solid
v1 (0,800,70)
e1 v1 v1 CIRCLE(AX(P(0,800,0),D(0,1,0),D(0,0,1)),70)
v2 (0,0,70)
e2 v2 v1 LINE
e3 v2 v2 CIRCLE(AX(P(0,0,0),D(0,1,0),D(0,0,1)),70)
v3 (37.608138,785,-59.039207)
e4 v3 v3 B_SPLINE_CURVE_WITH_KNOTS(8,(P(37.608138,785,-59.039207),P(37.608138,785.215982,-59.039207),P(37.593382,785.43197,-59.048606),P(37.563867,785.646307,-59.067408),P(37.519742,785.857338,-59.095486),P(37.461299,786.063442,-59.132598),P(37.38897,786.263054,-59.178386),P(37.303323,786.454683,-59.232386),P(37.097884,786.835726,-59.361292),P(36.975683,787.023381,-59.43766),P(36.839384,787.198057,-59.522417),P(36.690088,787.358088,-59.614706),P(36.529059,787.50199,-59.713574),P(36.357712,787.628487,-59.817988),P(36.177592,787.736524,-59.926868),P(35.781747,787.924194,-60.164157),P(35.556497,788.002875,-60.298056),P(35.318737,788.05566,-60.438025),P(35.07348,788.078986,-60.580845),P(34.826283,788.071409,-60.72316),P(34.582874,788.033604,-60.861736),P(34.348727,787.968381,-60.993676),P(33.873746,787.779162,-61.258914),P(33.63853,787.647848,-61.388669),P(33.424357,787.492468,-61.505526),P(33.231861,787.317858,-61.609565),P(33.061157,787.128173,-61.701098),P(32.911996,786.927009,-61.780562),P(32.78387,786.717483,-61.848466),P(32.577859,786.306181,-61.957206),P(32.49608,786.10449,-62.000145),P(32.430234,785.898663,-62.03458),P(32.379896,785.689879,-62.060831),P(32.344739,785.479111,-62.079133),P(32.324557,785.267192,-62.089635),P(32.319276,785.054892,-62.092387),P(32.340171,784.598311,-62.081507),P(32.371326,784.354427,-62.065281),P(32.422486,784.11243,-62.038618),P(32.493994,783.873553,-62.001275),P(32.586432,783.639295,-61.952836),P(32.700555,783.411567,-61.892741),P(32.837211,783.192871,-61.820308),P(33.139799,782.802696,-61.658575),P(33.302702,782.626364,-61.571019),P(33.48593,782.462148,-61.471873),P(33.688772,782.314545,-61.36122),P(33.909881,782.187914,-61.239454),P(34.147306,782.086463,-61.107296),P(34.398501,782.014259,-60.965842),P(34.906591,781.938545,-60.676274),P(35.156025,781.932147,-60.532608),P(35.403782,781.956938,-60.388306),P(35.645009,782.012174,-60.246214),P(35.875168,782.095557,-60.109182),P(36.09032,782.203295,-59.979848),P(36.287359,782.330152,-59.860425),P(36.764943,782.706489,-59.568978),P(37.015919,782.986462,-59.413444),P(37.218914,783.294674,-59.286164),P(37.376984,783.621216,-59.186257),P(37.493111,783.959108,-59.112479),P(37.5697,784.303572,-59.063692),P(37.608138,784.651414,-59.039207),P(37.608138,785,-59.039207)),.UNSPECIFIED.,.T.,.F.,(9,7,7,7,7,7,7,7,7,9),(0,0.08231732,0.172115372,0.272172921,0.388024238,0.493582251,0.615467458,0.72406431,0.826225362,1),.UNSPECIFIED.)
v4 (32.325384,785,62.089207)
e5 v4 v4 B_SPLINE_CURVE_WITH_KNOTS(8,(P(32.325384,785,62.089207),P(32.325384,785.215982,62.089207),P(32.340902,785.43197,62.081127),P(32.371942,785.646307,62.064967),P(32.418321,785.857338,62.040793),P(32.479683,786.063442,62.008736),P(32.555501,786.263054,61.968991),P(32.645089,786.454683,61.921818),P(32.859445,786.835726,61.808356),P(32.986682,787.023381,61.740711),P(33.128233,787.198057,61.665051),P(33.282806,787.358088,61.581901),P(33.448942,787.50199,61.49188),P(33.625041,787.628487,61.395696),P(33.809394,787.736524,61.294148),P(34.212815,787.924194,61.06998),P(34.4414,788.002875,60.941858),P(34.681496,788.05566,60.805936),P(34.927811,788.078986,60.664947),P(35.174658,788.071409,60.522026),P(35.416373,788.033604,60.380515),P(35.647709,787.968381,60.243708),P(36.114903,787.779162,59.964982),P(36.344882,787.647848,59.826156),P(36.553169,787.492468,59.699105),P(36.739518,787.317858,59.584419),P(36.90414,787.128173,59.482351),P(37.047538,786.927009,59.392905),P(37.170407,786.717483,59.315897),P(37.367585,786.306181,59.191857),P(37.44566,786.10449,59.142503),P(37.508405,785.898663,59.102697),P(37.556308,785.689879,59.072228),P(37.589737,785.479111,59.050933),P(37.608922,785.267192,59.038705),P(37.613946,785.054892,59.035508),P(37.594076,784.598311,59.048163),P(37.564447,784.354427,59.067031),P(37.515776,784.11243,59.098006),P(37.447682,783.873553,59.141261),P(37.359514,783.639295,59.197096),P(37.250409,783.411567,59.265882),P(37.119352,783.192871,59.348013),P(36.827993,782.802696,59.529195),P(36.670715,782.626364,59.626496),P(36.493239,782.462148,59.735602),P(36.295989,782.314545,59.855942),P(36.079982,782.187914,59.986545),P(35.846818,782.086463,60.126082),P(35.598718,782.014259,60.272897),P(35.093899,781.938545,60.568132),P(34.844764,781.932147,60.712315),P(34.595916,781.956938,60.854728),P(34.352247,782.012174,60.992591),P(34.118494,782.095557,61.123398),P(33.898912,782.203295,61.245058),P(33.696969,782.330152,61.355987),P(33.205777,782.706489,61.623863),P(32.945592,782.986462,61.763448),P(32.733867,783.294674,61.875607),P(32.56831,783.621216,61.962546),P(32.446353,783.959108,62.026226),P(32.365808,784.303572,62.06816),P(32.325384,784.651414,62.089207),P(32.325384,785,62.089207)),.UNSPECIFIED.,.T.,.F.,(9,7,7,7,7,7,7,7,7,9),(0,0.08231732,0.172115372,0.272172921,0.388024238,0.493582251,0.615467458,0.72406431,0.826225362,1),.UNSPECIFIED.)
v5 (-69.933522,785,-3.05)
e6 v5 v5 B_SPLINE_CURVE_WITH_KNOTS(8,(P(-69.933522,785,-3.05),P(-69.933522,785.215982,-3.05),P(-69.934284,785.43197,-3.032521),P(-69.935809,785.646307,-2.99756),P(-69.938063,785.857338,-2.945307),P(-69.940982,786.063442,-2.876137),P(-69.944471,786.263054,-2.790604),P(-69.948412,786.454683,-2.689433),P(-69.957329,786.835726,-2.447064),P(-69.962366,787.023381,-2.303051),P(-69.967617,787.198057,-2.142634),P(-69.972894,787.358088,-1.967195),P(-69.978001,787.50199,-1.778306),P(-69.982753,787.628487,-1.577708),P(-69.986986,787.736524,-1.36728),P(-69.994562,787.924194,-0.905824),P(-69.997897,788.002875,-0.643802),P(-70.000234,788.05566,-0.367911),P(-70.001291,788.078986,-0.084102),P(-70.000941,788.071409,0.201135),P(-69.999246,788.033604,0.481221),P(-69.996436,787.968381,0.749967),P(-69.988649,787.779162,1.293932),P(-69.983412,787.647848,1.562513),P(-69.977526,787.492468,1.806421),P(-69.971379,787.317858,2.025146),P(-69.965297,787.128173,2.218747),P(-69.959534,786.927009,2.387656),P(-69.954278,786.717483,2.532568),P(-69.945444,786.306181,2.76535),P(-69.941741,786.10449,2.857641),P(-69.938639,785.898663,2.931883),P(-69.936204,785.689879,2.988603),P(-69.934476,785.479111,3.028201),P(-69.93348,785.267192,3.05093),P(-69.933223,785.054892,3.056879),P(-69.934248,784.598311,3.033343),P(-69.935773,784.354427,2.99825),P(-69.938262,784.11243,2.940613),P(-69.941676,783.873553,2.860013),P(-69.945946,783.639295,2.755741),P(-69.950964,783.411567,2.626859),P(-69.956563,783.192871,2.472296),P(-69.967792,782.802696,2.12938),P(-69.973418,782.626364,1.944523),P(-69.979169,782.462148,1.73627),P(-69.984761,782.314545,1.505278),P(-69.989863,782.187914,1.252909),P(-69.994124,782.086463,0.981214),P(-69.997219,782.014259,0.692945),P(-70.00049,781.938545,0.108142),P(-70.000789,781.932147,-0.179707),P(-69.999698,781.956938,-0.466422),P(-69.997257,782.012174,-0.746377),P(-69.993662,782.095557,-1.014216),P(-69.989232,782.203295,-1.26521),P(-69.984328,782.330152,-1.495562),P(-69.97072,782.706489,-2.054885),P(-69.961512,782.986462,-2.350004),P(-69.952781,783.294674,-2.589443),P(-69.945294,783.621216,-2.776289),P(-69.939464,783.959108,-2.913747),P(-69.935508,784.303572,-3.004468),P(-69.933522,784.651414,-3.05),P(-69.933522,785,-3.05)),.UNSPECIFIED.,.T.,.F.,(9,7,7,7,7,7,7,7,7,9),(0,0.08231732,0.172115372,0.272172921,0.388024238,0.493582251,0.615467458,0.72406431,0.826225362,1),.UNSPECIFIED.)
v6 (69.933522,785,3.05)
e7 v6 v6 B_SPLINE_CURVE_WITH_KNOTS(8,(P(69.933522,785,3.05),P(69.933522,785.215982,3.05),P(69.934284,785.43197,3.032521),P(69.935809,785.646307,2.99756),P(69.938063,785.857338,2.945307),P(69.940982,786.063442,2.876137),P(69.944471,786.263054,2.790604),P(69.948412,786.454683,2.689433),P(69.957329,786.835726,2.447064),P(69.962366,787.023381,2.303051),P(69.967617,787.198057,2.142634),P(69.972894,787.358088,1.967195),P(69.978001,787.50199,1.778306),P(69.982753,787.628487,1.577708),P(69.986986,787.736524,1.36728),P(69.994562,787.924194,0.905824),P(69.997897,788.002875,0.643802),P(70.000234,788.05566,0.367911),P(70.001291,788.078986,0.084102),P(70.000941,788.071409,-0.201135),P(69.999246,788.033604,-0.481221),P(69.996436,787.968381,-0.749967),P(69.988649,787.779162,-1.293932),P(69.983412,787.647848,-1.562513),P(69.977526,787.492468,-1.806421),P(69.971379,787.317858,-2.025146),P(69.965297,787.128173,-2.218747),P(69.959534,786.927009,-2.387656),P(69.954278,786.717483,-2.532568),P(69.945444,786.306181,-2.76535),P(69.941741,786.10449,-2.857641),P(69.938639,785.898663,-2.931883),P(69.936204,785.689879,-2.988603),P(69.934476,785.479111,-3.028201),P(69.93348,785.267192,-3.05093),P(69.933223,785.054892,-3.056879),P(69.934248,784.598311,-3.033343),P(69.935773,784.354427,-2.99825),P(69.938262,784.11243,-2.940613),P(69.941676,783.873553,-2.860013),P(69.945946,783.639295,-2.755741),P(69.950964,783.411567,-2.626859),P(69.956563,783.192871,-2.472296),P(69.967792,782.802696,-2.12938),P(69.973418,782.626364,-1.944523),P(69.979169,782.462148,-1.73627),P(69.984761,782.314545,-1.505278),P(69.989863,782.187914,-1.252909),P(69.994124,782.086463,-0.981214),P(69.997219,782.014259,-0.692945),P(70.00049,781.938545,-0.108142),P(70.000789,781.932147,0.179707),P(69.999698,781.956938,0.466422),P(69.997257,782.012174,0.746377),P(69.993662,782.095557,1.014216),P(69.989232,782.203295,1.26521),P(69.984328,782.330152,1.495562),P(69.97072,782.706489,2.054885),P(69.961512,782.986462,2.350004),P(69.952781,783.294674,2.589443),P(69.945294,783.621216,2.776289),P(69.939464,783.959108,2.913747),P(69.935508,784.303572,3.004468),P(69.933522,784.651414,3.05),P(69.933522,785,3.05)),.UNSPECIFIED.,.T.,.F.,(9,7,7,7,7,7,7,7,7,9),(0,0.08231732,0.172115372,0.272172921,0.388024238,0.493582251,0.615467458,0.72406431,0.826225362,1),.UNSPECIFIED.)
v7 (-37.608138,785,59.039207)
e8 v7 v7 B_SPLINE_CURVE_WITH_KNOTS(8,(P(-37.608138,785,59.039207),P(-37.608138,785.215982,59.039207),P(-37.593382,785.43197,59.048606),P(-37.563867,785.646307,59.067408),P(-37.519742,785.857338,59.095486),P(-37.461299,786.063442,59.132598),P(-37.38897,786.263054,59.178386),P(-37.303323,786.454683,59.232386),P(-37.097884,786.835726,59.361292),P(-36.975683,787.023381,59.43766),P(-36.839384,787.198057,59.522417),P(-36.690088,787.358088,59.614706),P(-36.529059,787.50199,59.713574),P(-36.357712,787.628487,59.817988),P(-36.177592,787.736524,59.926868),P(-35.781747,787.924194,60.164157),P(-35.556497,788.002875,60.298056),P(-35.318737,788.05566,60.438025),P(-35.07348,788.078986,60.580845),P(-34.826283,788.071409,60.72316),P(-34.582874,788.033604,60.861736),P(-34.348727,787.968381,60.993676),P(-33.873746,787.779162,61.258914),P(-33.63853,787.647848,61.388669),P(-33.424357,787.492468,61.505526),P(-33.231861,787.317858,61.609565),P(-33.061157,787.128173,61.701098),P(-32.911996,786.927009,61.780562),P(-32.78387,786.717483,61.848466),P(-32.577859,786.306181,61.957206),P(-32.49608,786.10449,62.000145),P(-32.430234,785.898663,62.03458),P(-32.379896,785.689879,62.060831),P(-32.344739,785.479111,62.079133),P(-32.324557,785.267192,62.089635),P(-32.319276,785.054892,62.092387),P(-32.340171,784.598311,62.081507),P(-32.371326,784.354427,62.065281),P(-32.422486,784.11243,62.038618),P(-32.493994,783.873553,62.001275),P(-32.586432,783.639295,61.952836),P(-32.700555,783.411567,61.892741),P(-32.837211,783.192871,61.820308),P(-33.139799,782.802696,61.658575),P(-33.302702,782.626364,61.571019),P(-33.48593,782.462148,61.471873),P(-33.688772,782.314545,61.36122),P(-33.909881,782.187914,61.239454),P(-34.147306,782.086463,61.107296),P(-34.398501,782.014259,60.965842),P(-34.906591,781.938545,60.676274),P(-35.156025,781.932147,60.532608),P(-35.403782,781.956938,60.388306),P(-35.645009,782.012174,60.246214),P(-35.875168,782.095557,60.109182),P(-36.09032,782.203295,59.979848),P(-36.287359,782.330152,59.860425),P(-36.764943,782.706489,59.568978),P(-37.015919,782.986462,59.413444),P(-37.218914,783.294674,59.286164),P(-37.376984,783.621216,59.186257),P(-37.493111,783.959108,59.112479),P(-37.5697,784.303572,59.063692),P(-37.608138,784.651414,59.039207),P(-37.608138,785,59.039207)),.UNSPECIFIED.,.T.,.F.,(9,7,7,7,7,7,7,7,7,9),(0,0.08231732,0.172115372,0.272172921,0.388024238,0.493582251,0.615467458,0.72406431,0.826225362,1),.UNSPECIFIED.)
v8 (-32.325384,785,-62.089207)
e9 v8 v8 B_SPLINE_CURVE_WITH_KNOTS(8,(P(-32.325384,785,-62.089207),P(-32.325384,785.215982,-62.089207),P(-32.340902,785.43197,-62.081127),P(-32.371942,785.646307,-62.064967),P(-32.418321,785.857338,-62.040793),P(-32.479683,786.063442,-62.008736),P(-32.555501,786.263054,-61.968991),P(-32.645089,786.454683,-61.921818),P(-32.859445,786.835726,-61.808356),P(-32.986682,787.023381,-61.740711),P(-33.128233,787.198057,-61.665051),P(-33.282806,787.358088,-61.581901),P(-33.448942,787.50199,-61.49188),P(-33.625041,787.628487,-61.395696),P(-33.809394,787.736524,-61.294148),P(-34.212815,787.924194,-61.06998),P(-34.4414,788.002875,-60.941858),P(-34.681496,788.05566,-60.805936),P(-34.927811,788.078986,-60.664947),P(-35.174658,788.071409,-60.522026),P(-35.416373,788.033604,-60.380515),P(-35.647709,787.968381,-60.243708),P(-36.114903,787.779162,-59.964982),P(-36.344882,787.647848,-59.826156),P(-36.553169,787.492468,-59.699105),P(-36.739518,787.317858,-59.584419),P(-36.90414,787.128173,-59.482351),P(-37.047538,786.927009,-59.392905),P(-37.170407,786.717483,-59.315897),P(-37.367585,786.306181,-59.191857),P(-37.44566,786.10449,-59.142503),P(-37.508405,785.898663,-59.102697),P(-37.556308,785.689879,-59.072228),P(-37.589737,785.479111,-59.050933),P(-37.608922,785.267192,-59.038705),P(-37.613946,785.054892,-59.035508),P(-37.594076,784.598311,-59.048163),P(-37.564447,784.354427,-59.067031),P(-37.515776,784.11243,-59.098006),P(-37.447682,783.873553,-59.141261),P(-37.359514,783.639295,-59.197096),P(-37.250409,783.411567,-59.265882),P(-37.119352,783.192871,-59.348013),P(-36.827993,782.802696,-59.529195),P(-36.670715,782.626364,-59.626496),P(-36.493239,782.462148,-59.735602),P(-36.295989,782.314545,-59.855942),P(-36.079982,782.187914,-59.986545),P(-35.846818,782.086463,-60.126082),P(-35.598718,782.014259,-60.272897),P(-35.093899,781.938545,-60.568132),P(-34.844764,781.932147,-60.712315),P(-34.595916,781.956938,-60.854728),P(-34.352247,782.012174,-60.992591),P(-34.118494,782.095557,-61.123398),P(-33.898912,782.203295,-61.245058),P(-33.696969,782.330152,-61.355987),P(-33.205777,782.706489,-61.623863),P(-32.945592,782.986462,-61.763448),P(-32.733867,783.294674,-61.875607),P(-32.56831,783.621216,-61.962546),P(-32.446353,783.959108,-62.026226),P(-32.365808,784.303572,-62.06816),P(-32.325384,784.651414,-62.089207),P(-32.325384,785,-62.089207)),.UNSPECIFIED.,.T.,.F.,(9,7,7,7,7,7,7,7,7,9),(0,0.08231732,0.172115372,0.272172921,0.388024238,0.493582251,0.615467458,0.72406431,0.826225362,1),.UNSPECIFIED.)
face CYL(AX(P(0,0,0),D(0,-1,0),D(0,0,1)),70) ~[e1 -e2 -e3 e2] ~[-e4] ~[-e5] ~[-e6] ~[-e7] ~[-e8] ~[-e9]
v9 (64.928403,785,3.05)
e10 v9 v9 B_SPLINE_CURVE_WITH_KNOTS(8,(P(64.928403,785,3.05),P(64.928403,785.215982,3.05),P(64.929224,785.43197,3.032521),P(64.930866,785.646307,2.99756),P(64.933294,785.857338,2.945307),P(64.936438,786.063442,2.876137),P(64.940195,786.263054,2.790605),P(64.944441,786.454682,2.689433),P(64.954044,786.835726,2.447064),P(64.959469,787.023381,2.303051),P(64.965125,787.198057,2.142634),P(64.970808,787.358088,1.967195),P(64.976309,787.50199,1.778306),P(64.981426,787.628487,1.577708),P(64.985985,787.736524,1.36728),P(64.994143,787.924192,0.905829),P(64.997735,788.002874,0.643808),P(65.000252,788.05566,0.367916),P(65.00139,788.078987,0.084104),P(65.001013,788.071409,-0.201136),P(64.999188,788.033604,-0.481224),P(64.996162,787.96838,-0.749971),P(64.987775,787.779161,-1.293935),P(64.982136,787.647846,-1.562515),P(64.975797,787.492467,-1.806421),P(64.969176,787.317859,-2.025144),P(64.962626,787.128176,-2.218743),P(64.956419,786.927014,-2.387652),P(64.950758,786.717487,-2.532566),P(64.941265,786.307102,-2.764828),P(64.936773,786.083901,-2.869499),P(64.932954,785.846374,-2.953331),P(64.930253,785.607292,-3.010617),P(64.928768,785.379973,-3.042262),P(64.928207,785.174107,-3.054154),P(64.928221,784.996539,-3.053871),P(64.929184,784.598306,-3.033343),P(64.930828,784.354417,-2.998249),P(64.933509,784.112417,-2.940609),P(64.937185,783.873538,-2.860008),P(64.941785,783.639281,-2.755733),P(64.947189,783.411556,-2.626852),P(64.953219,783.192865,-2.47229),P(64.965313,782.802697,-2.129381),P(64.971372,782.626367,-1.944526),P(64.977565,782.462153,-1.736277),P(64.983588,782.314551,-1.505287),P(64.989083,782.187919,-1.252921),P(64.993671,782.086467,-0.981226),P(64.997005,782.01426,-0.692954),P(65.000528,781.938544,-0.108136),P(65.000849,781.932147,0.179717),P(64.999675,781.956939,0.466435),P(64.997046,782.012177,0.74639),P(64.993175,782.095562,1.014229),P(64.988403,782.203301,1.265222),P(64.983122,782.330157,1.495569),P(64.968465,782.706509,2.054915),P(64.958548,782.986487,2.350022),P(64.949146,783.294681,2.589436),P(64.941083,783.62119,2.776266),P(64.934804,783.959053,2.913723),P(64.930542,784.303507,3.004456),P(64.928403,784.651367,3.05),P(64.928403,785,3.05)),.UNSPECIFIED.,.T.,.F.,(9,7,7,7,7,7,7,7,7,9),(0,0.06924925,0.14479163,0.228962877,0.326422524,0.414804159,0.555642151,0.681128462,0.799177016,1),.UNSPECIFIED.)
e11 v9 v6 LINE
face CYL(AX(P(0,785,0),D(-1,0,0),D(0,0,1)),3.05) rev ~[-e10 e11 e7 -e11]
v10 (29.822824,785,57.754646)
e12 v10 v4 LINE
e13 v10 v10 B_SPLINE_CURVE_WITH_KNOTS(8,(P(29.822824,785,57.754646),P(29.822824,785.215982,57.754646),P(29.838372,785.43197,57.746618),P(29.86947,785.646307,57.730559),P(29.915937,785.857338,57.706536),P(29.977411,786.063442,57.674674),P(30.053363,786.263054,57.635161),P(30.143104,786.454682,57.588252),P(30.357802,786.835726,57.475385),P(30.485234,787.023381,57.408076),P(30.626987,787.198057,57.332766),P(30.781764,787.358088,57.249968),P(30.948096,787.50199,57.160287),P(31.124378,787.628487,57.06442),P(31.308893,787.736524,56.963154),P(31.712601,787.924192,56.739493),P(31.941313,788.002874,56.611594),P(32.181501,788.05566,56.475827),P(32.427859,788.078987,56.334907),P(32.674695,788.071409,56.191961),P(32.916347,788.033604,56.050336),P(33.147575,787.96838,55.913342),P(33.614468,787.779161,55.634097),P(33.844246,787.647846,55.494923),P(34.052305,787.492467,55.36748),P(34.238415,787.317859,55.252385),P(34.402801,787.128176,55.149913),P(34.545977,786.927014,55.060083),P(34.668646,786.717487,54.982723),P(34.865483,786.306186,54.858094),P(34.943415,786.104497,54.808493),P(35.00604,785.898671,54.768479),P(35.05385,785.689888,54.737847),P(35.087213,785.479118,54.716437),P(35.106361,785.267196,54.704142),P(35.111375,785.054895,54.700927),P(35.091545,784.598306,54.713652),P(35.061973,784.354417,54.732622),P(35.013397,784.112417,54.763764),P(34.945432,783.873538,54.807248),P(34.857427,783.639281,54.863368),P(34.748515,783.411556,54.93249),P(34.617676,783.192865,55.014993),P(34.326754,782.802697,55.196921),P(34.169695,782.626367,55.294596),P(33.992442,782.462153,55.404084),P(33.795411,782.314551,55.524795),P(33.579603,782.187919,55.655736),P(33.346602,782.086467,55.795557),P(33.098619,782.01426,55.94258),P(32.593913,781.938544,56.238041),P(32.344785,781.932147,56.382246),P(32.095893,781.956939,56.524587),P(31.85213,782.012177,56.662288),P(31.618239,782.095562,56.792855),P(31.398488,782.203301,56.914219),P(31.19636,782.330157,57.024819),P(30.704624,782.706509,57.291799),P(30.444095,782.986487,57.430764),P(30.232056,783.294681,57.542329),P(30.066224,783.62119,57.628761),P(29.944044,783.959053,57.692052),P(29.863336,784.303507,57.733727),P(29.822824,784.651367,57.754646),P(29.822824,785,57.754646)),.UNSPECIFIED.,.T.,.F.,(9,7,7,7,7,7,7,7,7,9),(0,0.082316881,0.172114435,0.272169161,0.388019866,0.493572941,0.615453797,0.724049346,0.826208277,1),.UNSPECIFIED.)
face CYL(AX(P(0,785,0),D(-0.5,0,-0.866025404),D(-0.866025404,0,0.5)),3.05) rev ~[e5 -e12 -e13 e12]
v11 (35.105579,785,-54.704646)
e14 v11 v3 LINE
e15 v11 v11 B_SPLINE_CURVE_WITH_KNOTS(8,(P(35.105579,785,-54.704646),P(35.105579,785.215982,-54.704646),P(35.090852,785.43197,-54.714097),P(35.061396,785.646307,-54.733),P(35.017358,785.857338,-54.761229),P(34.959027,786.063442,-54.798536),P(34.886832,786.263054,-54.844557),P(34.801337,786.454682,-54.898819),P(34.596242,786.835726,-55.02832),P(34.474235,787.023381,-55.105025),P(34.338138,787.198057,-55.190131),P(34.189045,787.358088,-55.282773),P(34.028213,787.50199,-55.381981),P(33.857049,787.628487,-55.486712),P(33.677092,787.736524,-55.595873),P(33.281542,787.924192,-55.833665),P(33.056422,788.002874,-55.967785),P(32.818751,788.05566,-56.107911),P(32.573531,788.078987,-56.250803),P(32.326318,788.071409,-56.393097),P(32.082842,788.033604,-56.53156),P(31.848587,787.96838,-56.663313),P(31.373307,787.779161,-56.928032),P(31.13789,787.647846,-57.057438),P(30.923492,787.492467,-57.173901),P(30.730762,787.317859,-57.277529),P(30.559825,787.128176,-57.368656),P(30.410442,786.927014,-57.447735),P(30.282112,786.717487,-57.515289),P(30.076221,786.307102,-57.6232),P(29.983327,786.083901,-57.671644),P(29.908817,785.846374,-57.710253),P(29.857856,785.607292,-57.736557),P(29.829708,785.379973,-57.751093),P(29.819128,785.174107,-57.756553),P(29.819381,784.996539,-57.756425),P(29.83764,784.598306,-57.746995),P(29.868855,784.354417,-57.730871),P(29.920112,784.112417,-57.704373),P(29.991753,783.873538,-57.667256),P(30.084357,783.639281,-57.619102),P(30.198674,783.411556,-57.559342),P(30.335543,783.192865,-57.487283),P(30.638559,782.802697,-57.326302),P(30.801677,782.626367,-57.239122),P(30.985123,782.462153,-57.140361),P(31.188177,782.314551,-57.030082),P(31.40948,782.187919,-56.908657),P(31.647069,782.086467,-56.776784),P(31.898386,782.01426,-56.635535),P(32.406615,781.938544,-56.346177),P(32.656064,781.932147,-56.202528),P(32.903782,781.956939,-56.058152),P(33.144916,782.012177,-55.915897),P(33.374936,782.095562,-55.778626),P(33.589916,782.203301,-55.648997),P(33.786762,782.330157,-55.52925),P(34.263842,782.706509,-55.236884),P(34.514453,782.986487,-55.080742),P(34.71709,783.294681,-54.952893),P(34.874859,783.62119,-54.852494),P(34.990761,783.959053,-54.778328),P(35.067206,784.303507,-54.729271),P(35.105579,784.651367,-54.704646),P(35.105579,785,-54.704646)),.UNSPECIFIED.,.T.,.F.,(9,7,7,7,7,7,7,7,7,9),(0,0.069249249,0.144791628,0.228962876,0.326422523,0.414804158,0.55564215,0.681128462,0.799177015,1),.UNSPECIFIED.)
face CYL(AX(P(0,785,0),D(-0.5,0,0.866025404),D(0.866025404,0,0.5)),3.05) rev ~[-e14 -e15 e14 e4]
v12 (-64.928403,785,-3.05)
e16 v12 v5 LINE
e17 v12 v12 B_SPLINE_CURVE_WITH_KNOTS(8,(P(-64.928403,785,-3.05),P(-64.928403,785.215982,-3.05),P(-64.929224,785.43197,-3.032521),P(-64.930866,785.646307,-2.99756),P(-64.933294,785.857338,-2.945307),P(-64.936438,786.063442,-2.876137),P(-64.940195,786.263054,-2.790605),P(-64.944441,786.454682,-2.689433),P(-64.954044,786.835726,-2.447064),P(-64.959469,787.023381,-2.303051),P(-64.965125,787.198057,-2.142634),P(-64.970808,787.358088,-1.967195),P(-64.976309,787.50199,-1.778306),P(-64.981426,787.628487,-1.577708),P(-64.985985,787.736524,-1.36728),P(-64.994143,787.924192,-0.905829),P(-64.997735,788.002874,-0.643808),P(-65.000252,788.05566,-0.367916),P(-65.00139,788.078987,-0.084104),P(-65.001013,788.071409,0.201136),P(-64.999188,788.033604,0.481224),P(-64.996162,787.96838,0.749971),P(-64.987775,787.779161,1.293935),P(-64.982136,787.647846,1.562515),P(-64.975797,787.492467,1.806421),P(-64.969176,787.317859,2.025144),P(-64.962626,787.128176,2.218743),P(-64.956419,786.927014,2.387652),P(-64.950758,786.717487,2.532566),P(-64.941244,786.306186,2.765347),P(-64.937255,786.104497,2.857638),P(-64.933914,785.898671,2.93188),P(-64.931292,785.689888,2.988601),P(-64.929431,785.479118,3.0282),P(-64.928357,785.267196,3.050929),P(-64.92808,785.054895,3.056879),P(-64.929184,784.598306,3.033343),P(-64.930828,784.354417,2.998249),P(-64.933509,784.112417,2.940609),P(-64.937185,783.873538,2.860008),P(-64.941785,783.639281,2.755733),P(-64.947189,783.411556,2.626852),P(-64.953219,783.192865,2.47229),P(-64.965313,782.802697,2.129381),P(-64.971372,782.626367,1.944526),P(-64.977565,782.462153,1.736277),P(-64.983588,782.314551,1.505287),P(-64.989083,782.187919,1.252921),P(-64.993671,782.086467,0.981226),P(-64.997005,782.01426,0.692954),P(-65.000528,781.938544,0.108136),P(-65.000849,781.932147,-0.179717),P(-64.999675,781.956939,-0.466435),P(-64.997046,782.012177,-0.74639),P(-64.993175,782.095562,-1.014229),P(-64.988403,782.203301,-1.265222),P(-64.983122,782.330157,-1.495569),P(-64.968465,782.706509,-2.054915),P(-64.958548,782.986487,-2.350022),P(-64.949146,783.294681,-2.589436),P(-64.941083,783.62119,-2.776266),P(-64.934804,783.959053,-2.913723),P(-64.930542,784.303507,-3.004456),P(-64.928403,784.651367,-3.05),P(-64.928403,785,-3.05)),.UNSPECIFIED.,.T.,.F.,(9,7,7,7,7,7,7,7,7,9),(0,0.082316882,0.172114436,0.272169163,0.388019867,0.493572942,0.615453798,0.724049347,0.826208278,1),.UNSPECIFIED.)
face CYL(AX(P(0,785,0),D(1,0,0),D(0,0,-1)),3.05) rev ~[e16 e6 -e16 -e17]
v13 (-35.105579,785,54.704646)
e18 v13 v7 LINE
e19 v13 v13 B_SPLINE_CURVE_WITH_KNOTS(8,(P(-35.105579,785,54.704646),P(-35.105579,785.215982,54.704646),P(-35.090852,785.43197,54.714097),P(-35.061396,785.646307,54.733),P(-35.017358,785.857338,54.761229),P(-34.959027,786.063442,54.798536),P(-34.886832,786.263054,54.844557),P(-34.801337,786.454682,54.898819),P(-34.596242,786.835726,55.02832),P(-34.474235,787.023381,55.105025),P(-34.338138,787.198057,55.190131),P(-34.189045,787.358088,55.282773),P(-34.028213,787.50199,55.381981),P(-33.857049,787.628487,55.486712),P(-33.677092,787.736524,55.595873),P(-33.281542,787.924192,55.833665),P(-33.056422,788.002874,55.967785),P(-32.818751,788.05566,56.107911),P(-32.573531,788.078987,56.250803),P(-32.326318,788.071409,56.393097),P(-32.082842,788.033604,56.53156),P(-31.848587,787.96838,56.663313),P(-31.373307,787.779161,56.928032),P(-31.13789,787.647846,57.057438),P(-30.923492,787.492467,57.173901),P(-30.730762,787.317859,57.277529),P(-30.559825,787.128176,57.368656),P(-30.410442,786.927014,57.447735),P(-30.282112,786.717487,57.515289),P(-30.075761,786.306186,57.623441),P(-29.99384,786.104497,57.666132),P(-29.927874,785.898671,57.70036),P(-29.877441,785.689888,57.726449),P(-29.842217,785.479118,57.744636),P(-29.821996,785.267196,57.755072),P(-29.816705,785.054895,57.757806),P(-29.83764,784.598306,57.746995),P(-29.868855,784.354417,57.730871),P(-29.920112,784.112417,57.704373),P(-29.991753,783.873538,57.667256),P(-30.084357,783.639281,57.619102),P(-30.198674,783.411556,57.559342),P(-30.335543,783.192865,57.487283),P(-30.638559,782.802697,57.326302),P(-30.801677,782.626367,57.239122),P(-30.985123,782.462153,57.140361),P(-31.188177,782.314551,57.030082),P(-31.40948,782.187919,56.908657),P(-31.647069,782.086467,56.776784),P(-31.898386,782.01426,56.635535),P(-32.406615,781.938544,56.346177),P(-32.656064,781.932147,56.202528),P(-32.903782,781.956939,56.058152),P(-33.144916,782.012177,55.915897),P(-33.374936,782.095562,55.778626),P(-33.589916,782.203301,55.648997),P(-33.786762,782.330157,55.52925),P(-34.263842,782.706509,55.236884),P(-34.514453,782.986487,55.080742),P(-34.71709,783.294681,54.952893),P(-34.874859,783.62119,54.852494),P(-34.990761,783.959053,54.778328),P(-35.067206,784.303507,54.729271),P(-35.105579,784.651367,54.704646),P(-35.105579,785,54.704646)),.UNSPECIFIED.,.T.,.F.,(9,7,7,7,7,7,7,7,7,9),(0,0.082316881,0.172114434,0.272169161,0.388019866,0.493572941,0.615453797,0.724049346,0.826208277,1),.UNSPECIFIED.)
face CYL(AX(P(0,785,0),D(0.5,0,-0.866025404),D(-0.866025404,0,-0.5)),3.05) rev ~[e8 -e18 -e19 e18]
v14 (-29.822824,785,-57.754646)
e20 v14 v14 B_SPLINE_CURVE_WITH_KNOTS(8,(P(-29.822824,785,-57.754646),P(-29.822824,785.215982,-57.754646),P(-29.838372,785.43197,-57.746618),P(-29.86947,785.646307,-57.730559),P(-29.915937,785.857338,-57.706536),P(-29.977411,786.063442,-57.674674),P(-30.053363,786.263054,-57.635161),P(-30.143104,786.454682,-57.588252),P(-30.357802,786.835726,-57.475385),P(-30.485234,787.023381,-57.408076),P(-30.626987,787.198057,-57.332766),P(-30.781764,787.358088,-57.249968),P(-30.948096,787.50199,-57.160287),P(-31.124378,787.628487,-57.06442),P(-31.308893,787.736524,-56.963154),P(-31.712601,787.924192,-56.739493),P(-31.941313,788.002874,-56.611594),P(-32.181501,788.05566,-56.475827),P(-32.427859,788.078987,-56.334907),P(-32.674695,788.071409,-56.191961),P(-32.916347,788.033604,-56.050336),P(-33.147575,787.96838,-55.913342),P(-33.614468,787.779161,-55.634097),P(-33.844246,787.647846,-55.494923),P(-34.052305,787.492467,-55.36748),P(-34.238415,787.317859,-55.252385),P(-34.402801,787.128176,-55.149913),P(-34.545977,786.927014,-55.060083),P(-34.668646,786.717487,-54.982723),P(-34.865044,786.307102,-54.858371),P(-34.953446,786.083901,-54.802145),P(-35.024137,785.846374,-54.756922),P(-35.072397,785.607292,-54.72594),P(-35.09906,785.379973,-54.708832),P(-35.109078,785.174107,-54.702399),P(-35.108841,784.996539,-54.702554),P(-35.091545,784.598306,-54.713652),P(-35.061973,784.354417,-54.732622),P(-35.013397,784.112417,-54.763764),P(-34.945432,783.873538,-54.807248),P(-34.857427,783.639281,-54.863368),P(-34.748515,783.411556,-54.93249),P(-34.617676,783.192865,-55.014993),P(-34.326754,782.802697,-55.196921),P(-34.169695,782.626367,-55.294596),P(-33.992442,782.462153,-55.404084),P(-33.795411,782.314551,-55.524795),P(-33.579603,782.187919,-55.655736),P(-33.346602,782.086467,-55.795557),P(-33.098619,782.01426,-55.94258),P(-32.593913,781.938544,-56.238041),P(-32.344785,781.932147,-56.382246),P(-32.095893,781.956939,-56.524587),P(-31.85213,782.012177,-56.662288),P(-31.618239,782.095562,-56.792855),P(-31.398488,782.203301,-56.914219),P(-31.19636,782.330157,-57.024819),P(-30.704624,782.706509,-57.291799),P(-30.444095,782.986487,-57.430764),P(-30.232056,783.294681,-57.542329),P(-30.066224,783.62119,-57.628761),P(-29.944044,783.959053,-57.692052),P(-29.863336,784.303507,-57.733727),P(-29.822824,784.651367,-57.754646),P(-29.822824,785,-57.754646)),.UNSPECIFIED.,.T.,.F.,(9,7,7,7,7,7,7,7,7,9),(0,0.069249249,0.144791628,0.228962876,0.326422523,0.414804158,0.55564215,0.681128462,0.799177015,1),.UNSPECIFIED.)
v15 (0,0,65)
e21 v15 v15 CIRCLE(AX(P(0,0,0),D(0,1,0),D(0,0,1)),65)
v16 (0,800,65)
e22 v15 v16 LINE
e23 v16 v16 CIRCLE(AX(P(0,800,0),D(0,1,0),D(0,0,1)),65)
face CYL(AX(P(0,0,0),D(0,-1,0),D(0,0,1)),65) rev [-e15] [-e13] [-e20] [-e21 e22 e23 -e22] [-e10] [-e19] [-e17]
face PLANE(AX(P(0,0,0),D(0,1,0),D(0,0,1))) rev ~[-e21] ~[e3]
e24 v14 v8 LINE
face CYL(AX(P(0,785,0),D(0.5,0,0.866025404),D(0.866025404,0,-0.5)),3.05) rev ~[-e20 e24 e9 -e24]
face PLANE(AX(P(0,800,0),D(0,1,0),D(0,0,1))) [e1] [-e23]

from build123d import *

# Parameters (mm, degrees)
SKETCH1_R               = 70
SKETCH1_R_2             = 65
BOSS_EXTRUDE1_DEPTH     = 800
CUT_EXTRUDE1_REACH      = 808.102
CUT_EXTRUDE1_END_RADIUS = 70
SKETCH2_R               = 3.05
CIRPATTERN1_COUNT       = 6


with BuildPart() as part:
    # Sketch1 → Boss-Extrude1 (new body)
    with BuildSketch(Plane(origin=(0, 0, 0), x_dir=(1, 0, 0), z_dir=(0, 1, 0))):
        with Locations(Location((0, 0, 0), (0, 0, 270))):
            Circle(SKETCH1_R)
        with Locations(Location((0, 0, 0), (0, 0, 270))):
            Circle(SKETCH1_R_2, mode=Mode.SUBTRACT)
    extrude(amount=BOSS_EXTRUDE1_DEPTH)

    # Cut-Extrude1: up to this cylinder (the profile starts inside it)
    cut_extrude1_end = Plane(origin=(0, 785, 0), z_dir=(0, -1, 0)) * Cylinder(CUT_EXTRUDE1_END_RADIUS, 1757.204, mode=Mode.PRIVATE)
    # Sketch2 → Cut-Extrude1 (cut, up to the surface)
    with BuildSketch(Plane(origin=(0, 0, 0), x_dir=(0, 0, -1), z_dir=(1, 0, 0)), mode=Mode.PRIVATE) as cut_extrude1_sk1:
        with Locations((0, 785)):
            Circle(SKETCH2_R)
    cut_extrude1_tool1 = extrude(cut_extrude1_sk1.sketch, amount=-CUT_EXTRUDE1_REACH, mode=Mode.PRIVATE) & cut_extrude1_end
    cut_extrude1 = cut_extrude1_tool1.solids().sort_by_distance((0, 785, 0))[0]
    add(cut_extrude1, mode=Mode.SUBTRACT)

    # CirPattern1: Cut-Extrude1 ×6 about axis
    cirpattern1_axis = Axis((0, 800, 0), (0, 1, 0))
    for i in range(1, CIRPATTERN1_COUNT):
        add(cut_extrude1.rotate(cirpattern1_axis, i * 360 / CIRPATTERN1_COUNT), mode=Mode.SUBTRACT)


solid = part.part
